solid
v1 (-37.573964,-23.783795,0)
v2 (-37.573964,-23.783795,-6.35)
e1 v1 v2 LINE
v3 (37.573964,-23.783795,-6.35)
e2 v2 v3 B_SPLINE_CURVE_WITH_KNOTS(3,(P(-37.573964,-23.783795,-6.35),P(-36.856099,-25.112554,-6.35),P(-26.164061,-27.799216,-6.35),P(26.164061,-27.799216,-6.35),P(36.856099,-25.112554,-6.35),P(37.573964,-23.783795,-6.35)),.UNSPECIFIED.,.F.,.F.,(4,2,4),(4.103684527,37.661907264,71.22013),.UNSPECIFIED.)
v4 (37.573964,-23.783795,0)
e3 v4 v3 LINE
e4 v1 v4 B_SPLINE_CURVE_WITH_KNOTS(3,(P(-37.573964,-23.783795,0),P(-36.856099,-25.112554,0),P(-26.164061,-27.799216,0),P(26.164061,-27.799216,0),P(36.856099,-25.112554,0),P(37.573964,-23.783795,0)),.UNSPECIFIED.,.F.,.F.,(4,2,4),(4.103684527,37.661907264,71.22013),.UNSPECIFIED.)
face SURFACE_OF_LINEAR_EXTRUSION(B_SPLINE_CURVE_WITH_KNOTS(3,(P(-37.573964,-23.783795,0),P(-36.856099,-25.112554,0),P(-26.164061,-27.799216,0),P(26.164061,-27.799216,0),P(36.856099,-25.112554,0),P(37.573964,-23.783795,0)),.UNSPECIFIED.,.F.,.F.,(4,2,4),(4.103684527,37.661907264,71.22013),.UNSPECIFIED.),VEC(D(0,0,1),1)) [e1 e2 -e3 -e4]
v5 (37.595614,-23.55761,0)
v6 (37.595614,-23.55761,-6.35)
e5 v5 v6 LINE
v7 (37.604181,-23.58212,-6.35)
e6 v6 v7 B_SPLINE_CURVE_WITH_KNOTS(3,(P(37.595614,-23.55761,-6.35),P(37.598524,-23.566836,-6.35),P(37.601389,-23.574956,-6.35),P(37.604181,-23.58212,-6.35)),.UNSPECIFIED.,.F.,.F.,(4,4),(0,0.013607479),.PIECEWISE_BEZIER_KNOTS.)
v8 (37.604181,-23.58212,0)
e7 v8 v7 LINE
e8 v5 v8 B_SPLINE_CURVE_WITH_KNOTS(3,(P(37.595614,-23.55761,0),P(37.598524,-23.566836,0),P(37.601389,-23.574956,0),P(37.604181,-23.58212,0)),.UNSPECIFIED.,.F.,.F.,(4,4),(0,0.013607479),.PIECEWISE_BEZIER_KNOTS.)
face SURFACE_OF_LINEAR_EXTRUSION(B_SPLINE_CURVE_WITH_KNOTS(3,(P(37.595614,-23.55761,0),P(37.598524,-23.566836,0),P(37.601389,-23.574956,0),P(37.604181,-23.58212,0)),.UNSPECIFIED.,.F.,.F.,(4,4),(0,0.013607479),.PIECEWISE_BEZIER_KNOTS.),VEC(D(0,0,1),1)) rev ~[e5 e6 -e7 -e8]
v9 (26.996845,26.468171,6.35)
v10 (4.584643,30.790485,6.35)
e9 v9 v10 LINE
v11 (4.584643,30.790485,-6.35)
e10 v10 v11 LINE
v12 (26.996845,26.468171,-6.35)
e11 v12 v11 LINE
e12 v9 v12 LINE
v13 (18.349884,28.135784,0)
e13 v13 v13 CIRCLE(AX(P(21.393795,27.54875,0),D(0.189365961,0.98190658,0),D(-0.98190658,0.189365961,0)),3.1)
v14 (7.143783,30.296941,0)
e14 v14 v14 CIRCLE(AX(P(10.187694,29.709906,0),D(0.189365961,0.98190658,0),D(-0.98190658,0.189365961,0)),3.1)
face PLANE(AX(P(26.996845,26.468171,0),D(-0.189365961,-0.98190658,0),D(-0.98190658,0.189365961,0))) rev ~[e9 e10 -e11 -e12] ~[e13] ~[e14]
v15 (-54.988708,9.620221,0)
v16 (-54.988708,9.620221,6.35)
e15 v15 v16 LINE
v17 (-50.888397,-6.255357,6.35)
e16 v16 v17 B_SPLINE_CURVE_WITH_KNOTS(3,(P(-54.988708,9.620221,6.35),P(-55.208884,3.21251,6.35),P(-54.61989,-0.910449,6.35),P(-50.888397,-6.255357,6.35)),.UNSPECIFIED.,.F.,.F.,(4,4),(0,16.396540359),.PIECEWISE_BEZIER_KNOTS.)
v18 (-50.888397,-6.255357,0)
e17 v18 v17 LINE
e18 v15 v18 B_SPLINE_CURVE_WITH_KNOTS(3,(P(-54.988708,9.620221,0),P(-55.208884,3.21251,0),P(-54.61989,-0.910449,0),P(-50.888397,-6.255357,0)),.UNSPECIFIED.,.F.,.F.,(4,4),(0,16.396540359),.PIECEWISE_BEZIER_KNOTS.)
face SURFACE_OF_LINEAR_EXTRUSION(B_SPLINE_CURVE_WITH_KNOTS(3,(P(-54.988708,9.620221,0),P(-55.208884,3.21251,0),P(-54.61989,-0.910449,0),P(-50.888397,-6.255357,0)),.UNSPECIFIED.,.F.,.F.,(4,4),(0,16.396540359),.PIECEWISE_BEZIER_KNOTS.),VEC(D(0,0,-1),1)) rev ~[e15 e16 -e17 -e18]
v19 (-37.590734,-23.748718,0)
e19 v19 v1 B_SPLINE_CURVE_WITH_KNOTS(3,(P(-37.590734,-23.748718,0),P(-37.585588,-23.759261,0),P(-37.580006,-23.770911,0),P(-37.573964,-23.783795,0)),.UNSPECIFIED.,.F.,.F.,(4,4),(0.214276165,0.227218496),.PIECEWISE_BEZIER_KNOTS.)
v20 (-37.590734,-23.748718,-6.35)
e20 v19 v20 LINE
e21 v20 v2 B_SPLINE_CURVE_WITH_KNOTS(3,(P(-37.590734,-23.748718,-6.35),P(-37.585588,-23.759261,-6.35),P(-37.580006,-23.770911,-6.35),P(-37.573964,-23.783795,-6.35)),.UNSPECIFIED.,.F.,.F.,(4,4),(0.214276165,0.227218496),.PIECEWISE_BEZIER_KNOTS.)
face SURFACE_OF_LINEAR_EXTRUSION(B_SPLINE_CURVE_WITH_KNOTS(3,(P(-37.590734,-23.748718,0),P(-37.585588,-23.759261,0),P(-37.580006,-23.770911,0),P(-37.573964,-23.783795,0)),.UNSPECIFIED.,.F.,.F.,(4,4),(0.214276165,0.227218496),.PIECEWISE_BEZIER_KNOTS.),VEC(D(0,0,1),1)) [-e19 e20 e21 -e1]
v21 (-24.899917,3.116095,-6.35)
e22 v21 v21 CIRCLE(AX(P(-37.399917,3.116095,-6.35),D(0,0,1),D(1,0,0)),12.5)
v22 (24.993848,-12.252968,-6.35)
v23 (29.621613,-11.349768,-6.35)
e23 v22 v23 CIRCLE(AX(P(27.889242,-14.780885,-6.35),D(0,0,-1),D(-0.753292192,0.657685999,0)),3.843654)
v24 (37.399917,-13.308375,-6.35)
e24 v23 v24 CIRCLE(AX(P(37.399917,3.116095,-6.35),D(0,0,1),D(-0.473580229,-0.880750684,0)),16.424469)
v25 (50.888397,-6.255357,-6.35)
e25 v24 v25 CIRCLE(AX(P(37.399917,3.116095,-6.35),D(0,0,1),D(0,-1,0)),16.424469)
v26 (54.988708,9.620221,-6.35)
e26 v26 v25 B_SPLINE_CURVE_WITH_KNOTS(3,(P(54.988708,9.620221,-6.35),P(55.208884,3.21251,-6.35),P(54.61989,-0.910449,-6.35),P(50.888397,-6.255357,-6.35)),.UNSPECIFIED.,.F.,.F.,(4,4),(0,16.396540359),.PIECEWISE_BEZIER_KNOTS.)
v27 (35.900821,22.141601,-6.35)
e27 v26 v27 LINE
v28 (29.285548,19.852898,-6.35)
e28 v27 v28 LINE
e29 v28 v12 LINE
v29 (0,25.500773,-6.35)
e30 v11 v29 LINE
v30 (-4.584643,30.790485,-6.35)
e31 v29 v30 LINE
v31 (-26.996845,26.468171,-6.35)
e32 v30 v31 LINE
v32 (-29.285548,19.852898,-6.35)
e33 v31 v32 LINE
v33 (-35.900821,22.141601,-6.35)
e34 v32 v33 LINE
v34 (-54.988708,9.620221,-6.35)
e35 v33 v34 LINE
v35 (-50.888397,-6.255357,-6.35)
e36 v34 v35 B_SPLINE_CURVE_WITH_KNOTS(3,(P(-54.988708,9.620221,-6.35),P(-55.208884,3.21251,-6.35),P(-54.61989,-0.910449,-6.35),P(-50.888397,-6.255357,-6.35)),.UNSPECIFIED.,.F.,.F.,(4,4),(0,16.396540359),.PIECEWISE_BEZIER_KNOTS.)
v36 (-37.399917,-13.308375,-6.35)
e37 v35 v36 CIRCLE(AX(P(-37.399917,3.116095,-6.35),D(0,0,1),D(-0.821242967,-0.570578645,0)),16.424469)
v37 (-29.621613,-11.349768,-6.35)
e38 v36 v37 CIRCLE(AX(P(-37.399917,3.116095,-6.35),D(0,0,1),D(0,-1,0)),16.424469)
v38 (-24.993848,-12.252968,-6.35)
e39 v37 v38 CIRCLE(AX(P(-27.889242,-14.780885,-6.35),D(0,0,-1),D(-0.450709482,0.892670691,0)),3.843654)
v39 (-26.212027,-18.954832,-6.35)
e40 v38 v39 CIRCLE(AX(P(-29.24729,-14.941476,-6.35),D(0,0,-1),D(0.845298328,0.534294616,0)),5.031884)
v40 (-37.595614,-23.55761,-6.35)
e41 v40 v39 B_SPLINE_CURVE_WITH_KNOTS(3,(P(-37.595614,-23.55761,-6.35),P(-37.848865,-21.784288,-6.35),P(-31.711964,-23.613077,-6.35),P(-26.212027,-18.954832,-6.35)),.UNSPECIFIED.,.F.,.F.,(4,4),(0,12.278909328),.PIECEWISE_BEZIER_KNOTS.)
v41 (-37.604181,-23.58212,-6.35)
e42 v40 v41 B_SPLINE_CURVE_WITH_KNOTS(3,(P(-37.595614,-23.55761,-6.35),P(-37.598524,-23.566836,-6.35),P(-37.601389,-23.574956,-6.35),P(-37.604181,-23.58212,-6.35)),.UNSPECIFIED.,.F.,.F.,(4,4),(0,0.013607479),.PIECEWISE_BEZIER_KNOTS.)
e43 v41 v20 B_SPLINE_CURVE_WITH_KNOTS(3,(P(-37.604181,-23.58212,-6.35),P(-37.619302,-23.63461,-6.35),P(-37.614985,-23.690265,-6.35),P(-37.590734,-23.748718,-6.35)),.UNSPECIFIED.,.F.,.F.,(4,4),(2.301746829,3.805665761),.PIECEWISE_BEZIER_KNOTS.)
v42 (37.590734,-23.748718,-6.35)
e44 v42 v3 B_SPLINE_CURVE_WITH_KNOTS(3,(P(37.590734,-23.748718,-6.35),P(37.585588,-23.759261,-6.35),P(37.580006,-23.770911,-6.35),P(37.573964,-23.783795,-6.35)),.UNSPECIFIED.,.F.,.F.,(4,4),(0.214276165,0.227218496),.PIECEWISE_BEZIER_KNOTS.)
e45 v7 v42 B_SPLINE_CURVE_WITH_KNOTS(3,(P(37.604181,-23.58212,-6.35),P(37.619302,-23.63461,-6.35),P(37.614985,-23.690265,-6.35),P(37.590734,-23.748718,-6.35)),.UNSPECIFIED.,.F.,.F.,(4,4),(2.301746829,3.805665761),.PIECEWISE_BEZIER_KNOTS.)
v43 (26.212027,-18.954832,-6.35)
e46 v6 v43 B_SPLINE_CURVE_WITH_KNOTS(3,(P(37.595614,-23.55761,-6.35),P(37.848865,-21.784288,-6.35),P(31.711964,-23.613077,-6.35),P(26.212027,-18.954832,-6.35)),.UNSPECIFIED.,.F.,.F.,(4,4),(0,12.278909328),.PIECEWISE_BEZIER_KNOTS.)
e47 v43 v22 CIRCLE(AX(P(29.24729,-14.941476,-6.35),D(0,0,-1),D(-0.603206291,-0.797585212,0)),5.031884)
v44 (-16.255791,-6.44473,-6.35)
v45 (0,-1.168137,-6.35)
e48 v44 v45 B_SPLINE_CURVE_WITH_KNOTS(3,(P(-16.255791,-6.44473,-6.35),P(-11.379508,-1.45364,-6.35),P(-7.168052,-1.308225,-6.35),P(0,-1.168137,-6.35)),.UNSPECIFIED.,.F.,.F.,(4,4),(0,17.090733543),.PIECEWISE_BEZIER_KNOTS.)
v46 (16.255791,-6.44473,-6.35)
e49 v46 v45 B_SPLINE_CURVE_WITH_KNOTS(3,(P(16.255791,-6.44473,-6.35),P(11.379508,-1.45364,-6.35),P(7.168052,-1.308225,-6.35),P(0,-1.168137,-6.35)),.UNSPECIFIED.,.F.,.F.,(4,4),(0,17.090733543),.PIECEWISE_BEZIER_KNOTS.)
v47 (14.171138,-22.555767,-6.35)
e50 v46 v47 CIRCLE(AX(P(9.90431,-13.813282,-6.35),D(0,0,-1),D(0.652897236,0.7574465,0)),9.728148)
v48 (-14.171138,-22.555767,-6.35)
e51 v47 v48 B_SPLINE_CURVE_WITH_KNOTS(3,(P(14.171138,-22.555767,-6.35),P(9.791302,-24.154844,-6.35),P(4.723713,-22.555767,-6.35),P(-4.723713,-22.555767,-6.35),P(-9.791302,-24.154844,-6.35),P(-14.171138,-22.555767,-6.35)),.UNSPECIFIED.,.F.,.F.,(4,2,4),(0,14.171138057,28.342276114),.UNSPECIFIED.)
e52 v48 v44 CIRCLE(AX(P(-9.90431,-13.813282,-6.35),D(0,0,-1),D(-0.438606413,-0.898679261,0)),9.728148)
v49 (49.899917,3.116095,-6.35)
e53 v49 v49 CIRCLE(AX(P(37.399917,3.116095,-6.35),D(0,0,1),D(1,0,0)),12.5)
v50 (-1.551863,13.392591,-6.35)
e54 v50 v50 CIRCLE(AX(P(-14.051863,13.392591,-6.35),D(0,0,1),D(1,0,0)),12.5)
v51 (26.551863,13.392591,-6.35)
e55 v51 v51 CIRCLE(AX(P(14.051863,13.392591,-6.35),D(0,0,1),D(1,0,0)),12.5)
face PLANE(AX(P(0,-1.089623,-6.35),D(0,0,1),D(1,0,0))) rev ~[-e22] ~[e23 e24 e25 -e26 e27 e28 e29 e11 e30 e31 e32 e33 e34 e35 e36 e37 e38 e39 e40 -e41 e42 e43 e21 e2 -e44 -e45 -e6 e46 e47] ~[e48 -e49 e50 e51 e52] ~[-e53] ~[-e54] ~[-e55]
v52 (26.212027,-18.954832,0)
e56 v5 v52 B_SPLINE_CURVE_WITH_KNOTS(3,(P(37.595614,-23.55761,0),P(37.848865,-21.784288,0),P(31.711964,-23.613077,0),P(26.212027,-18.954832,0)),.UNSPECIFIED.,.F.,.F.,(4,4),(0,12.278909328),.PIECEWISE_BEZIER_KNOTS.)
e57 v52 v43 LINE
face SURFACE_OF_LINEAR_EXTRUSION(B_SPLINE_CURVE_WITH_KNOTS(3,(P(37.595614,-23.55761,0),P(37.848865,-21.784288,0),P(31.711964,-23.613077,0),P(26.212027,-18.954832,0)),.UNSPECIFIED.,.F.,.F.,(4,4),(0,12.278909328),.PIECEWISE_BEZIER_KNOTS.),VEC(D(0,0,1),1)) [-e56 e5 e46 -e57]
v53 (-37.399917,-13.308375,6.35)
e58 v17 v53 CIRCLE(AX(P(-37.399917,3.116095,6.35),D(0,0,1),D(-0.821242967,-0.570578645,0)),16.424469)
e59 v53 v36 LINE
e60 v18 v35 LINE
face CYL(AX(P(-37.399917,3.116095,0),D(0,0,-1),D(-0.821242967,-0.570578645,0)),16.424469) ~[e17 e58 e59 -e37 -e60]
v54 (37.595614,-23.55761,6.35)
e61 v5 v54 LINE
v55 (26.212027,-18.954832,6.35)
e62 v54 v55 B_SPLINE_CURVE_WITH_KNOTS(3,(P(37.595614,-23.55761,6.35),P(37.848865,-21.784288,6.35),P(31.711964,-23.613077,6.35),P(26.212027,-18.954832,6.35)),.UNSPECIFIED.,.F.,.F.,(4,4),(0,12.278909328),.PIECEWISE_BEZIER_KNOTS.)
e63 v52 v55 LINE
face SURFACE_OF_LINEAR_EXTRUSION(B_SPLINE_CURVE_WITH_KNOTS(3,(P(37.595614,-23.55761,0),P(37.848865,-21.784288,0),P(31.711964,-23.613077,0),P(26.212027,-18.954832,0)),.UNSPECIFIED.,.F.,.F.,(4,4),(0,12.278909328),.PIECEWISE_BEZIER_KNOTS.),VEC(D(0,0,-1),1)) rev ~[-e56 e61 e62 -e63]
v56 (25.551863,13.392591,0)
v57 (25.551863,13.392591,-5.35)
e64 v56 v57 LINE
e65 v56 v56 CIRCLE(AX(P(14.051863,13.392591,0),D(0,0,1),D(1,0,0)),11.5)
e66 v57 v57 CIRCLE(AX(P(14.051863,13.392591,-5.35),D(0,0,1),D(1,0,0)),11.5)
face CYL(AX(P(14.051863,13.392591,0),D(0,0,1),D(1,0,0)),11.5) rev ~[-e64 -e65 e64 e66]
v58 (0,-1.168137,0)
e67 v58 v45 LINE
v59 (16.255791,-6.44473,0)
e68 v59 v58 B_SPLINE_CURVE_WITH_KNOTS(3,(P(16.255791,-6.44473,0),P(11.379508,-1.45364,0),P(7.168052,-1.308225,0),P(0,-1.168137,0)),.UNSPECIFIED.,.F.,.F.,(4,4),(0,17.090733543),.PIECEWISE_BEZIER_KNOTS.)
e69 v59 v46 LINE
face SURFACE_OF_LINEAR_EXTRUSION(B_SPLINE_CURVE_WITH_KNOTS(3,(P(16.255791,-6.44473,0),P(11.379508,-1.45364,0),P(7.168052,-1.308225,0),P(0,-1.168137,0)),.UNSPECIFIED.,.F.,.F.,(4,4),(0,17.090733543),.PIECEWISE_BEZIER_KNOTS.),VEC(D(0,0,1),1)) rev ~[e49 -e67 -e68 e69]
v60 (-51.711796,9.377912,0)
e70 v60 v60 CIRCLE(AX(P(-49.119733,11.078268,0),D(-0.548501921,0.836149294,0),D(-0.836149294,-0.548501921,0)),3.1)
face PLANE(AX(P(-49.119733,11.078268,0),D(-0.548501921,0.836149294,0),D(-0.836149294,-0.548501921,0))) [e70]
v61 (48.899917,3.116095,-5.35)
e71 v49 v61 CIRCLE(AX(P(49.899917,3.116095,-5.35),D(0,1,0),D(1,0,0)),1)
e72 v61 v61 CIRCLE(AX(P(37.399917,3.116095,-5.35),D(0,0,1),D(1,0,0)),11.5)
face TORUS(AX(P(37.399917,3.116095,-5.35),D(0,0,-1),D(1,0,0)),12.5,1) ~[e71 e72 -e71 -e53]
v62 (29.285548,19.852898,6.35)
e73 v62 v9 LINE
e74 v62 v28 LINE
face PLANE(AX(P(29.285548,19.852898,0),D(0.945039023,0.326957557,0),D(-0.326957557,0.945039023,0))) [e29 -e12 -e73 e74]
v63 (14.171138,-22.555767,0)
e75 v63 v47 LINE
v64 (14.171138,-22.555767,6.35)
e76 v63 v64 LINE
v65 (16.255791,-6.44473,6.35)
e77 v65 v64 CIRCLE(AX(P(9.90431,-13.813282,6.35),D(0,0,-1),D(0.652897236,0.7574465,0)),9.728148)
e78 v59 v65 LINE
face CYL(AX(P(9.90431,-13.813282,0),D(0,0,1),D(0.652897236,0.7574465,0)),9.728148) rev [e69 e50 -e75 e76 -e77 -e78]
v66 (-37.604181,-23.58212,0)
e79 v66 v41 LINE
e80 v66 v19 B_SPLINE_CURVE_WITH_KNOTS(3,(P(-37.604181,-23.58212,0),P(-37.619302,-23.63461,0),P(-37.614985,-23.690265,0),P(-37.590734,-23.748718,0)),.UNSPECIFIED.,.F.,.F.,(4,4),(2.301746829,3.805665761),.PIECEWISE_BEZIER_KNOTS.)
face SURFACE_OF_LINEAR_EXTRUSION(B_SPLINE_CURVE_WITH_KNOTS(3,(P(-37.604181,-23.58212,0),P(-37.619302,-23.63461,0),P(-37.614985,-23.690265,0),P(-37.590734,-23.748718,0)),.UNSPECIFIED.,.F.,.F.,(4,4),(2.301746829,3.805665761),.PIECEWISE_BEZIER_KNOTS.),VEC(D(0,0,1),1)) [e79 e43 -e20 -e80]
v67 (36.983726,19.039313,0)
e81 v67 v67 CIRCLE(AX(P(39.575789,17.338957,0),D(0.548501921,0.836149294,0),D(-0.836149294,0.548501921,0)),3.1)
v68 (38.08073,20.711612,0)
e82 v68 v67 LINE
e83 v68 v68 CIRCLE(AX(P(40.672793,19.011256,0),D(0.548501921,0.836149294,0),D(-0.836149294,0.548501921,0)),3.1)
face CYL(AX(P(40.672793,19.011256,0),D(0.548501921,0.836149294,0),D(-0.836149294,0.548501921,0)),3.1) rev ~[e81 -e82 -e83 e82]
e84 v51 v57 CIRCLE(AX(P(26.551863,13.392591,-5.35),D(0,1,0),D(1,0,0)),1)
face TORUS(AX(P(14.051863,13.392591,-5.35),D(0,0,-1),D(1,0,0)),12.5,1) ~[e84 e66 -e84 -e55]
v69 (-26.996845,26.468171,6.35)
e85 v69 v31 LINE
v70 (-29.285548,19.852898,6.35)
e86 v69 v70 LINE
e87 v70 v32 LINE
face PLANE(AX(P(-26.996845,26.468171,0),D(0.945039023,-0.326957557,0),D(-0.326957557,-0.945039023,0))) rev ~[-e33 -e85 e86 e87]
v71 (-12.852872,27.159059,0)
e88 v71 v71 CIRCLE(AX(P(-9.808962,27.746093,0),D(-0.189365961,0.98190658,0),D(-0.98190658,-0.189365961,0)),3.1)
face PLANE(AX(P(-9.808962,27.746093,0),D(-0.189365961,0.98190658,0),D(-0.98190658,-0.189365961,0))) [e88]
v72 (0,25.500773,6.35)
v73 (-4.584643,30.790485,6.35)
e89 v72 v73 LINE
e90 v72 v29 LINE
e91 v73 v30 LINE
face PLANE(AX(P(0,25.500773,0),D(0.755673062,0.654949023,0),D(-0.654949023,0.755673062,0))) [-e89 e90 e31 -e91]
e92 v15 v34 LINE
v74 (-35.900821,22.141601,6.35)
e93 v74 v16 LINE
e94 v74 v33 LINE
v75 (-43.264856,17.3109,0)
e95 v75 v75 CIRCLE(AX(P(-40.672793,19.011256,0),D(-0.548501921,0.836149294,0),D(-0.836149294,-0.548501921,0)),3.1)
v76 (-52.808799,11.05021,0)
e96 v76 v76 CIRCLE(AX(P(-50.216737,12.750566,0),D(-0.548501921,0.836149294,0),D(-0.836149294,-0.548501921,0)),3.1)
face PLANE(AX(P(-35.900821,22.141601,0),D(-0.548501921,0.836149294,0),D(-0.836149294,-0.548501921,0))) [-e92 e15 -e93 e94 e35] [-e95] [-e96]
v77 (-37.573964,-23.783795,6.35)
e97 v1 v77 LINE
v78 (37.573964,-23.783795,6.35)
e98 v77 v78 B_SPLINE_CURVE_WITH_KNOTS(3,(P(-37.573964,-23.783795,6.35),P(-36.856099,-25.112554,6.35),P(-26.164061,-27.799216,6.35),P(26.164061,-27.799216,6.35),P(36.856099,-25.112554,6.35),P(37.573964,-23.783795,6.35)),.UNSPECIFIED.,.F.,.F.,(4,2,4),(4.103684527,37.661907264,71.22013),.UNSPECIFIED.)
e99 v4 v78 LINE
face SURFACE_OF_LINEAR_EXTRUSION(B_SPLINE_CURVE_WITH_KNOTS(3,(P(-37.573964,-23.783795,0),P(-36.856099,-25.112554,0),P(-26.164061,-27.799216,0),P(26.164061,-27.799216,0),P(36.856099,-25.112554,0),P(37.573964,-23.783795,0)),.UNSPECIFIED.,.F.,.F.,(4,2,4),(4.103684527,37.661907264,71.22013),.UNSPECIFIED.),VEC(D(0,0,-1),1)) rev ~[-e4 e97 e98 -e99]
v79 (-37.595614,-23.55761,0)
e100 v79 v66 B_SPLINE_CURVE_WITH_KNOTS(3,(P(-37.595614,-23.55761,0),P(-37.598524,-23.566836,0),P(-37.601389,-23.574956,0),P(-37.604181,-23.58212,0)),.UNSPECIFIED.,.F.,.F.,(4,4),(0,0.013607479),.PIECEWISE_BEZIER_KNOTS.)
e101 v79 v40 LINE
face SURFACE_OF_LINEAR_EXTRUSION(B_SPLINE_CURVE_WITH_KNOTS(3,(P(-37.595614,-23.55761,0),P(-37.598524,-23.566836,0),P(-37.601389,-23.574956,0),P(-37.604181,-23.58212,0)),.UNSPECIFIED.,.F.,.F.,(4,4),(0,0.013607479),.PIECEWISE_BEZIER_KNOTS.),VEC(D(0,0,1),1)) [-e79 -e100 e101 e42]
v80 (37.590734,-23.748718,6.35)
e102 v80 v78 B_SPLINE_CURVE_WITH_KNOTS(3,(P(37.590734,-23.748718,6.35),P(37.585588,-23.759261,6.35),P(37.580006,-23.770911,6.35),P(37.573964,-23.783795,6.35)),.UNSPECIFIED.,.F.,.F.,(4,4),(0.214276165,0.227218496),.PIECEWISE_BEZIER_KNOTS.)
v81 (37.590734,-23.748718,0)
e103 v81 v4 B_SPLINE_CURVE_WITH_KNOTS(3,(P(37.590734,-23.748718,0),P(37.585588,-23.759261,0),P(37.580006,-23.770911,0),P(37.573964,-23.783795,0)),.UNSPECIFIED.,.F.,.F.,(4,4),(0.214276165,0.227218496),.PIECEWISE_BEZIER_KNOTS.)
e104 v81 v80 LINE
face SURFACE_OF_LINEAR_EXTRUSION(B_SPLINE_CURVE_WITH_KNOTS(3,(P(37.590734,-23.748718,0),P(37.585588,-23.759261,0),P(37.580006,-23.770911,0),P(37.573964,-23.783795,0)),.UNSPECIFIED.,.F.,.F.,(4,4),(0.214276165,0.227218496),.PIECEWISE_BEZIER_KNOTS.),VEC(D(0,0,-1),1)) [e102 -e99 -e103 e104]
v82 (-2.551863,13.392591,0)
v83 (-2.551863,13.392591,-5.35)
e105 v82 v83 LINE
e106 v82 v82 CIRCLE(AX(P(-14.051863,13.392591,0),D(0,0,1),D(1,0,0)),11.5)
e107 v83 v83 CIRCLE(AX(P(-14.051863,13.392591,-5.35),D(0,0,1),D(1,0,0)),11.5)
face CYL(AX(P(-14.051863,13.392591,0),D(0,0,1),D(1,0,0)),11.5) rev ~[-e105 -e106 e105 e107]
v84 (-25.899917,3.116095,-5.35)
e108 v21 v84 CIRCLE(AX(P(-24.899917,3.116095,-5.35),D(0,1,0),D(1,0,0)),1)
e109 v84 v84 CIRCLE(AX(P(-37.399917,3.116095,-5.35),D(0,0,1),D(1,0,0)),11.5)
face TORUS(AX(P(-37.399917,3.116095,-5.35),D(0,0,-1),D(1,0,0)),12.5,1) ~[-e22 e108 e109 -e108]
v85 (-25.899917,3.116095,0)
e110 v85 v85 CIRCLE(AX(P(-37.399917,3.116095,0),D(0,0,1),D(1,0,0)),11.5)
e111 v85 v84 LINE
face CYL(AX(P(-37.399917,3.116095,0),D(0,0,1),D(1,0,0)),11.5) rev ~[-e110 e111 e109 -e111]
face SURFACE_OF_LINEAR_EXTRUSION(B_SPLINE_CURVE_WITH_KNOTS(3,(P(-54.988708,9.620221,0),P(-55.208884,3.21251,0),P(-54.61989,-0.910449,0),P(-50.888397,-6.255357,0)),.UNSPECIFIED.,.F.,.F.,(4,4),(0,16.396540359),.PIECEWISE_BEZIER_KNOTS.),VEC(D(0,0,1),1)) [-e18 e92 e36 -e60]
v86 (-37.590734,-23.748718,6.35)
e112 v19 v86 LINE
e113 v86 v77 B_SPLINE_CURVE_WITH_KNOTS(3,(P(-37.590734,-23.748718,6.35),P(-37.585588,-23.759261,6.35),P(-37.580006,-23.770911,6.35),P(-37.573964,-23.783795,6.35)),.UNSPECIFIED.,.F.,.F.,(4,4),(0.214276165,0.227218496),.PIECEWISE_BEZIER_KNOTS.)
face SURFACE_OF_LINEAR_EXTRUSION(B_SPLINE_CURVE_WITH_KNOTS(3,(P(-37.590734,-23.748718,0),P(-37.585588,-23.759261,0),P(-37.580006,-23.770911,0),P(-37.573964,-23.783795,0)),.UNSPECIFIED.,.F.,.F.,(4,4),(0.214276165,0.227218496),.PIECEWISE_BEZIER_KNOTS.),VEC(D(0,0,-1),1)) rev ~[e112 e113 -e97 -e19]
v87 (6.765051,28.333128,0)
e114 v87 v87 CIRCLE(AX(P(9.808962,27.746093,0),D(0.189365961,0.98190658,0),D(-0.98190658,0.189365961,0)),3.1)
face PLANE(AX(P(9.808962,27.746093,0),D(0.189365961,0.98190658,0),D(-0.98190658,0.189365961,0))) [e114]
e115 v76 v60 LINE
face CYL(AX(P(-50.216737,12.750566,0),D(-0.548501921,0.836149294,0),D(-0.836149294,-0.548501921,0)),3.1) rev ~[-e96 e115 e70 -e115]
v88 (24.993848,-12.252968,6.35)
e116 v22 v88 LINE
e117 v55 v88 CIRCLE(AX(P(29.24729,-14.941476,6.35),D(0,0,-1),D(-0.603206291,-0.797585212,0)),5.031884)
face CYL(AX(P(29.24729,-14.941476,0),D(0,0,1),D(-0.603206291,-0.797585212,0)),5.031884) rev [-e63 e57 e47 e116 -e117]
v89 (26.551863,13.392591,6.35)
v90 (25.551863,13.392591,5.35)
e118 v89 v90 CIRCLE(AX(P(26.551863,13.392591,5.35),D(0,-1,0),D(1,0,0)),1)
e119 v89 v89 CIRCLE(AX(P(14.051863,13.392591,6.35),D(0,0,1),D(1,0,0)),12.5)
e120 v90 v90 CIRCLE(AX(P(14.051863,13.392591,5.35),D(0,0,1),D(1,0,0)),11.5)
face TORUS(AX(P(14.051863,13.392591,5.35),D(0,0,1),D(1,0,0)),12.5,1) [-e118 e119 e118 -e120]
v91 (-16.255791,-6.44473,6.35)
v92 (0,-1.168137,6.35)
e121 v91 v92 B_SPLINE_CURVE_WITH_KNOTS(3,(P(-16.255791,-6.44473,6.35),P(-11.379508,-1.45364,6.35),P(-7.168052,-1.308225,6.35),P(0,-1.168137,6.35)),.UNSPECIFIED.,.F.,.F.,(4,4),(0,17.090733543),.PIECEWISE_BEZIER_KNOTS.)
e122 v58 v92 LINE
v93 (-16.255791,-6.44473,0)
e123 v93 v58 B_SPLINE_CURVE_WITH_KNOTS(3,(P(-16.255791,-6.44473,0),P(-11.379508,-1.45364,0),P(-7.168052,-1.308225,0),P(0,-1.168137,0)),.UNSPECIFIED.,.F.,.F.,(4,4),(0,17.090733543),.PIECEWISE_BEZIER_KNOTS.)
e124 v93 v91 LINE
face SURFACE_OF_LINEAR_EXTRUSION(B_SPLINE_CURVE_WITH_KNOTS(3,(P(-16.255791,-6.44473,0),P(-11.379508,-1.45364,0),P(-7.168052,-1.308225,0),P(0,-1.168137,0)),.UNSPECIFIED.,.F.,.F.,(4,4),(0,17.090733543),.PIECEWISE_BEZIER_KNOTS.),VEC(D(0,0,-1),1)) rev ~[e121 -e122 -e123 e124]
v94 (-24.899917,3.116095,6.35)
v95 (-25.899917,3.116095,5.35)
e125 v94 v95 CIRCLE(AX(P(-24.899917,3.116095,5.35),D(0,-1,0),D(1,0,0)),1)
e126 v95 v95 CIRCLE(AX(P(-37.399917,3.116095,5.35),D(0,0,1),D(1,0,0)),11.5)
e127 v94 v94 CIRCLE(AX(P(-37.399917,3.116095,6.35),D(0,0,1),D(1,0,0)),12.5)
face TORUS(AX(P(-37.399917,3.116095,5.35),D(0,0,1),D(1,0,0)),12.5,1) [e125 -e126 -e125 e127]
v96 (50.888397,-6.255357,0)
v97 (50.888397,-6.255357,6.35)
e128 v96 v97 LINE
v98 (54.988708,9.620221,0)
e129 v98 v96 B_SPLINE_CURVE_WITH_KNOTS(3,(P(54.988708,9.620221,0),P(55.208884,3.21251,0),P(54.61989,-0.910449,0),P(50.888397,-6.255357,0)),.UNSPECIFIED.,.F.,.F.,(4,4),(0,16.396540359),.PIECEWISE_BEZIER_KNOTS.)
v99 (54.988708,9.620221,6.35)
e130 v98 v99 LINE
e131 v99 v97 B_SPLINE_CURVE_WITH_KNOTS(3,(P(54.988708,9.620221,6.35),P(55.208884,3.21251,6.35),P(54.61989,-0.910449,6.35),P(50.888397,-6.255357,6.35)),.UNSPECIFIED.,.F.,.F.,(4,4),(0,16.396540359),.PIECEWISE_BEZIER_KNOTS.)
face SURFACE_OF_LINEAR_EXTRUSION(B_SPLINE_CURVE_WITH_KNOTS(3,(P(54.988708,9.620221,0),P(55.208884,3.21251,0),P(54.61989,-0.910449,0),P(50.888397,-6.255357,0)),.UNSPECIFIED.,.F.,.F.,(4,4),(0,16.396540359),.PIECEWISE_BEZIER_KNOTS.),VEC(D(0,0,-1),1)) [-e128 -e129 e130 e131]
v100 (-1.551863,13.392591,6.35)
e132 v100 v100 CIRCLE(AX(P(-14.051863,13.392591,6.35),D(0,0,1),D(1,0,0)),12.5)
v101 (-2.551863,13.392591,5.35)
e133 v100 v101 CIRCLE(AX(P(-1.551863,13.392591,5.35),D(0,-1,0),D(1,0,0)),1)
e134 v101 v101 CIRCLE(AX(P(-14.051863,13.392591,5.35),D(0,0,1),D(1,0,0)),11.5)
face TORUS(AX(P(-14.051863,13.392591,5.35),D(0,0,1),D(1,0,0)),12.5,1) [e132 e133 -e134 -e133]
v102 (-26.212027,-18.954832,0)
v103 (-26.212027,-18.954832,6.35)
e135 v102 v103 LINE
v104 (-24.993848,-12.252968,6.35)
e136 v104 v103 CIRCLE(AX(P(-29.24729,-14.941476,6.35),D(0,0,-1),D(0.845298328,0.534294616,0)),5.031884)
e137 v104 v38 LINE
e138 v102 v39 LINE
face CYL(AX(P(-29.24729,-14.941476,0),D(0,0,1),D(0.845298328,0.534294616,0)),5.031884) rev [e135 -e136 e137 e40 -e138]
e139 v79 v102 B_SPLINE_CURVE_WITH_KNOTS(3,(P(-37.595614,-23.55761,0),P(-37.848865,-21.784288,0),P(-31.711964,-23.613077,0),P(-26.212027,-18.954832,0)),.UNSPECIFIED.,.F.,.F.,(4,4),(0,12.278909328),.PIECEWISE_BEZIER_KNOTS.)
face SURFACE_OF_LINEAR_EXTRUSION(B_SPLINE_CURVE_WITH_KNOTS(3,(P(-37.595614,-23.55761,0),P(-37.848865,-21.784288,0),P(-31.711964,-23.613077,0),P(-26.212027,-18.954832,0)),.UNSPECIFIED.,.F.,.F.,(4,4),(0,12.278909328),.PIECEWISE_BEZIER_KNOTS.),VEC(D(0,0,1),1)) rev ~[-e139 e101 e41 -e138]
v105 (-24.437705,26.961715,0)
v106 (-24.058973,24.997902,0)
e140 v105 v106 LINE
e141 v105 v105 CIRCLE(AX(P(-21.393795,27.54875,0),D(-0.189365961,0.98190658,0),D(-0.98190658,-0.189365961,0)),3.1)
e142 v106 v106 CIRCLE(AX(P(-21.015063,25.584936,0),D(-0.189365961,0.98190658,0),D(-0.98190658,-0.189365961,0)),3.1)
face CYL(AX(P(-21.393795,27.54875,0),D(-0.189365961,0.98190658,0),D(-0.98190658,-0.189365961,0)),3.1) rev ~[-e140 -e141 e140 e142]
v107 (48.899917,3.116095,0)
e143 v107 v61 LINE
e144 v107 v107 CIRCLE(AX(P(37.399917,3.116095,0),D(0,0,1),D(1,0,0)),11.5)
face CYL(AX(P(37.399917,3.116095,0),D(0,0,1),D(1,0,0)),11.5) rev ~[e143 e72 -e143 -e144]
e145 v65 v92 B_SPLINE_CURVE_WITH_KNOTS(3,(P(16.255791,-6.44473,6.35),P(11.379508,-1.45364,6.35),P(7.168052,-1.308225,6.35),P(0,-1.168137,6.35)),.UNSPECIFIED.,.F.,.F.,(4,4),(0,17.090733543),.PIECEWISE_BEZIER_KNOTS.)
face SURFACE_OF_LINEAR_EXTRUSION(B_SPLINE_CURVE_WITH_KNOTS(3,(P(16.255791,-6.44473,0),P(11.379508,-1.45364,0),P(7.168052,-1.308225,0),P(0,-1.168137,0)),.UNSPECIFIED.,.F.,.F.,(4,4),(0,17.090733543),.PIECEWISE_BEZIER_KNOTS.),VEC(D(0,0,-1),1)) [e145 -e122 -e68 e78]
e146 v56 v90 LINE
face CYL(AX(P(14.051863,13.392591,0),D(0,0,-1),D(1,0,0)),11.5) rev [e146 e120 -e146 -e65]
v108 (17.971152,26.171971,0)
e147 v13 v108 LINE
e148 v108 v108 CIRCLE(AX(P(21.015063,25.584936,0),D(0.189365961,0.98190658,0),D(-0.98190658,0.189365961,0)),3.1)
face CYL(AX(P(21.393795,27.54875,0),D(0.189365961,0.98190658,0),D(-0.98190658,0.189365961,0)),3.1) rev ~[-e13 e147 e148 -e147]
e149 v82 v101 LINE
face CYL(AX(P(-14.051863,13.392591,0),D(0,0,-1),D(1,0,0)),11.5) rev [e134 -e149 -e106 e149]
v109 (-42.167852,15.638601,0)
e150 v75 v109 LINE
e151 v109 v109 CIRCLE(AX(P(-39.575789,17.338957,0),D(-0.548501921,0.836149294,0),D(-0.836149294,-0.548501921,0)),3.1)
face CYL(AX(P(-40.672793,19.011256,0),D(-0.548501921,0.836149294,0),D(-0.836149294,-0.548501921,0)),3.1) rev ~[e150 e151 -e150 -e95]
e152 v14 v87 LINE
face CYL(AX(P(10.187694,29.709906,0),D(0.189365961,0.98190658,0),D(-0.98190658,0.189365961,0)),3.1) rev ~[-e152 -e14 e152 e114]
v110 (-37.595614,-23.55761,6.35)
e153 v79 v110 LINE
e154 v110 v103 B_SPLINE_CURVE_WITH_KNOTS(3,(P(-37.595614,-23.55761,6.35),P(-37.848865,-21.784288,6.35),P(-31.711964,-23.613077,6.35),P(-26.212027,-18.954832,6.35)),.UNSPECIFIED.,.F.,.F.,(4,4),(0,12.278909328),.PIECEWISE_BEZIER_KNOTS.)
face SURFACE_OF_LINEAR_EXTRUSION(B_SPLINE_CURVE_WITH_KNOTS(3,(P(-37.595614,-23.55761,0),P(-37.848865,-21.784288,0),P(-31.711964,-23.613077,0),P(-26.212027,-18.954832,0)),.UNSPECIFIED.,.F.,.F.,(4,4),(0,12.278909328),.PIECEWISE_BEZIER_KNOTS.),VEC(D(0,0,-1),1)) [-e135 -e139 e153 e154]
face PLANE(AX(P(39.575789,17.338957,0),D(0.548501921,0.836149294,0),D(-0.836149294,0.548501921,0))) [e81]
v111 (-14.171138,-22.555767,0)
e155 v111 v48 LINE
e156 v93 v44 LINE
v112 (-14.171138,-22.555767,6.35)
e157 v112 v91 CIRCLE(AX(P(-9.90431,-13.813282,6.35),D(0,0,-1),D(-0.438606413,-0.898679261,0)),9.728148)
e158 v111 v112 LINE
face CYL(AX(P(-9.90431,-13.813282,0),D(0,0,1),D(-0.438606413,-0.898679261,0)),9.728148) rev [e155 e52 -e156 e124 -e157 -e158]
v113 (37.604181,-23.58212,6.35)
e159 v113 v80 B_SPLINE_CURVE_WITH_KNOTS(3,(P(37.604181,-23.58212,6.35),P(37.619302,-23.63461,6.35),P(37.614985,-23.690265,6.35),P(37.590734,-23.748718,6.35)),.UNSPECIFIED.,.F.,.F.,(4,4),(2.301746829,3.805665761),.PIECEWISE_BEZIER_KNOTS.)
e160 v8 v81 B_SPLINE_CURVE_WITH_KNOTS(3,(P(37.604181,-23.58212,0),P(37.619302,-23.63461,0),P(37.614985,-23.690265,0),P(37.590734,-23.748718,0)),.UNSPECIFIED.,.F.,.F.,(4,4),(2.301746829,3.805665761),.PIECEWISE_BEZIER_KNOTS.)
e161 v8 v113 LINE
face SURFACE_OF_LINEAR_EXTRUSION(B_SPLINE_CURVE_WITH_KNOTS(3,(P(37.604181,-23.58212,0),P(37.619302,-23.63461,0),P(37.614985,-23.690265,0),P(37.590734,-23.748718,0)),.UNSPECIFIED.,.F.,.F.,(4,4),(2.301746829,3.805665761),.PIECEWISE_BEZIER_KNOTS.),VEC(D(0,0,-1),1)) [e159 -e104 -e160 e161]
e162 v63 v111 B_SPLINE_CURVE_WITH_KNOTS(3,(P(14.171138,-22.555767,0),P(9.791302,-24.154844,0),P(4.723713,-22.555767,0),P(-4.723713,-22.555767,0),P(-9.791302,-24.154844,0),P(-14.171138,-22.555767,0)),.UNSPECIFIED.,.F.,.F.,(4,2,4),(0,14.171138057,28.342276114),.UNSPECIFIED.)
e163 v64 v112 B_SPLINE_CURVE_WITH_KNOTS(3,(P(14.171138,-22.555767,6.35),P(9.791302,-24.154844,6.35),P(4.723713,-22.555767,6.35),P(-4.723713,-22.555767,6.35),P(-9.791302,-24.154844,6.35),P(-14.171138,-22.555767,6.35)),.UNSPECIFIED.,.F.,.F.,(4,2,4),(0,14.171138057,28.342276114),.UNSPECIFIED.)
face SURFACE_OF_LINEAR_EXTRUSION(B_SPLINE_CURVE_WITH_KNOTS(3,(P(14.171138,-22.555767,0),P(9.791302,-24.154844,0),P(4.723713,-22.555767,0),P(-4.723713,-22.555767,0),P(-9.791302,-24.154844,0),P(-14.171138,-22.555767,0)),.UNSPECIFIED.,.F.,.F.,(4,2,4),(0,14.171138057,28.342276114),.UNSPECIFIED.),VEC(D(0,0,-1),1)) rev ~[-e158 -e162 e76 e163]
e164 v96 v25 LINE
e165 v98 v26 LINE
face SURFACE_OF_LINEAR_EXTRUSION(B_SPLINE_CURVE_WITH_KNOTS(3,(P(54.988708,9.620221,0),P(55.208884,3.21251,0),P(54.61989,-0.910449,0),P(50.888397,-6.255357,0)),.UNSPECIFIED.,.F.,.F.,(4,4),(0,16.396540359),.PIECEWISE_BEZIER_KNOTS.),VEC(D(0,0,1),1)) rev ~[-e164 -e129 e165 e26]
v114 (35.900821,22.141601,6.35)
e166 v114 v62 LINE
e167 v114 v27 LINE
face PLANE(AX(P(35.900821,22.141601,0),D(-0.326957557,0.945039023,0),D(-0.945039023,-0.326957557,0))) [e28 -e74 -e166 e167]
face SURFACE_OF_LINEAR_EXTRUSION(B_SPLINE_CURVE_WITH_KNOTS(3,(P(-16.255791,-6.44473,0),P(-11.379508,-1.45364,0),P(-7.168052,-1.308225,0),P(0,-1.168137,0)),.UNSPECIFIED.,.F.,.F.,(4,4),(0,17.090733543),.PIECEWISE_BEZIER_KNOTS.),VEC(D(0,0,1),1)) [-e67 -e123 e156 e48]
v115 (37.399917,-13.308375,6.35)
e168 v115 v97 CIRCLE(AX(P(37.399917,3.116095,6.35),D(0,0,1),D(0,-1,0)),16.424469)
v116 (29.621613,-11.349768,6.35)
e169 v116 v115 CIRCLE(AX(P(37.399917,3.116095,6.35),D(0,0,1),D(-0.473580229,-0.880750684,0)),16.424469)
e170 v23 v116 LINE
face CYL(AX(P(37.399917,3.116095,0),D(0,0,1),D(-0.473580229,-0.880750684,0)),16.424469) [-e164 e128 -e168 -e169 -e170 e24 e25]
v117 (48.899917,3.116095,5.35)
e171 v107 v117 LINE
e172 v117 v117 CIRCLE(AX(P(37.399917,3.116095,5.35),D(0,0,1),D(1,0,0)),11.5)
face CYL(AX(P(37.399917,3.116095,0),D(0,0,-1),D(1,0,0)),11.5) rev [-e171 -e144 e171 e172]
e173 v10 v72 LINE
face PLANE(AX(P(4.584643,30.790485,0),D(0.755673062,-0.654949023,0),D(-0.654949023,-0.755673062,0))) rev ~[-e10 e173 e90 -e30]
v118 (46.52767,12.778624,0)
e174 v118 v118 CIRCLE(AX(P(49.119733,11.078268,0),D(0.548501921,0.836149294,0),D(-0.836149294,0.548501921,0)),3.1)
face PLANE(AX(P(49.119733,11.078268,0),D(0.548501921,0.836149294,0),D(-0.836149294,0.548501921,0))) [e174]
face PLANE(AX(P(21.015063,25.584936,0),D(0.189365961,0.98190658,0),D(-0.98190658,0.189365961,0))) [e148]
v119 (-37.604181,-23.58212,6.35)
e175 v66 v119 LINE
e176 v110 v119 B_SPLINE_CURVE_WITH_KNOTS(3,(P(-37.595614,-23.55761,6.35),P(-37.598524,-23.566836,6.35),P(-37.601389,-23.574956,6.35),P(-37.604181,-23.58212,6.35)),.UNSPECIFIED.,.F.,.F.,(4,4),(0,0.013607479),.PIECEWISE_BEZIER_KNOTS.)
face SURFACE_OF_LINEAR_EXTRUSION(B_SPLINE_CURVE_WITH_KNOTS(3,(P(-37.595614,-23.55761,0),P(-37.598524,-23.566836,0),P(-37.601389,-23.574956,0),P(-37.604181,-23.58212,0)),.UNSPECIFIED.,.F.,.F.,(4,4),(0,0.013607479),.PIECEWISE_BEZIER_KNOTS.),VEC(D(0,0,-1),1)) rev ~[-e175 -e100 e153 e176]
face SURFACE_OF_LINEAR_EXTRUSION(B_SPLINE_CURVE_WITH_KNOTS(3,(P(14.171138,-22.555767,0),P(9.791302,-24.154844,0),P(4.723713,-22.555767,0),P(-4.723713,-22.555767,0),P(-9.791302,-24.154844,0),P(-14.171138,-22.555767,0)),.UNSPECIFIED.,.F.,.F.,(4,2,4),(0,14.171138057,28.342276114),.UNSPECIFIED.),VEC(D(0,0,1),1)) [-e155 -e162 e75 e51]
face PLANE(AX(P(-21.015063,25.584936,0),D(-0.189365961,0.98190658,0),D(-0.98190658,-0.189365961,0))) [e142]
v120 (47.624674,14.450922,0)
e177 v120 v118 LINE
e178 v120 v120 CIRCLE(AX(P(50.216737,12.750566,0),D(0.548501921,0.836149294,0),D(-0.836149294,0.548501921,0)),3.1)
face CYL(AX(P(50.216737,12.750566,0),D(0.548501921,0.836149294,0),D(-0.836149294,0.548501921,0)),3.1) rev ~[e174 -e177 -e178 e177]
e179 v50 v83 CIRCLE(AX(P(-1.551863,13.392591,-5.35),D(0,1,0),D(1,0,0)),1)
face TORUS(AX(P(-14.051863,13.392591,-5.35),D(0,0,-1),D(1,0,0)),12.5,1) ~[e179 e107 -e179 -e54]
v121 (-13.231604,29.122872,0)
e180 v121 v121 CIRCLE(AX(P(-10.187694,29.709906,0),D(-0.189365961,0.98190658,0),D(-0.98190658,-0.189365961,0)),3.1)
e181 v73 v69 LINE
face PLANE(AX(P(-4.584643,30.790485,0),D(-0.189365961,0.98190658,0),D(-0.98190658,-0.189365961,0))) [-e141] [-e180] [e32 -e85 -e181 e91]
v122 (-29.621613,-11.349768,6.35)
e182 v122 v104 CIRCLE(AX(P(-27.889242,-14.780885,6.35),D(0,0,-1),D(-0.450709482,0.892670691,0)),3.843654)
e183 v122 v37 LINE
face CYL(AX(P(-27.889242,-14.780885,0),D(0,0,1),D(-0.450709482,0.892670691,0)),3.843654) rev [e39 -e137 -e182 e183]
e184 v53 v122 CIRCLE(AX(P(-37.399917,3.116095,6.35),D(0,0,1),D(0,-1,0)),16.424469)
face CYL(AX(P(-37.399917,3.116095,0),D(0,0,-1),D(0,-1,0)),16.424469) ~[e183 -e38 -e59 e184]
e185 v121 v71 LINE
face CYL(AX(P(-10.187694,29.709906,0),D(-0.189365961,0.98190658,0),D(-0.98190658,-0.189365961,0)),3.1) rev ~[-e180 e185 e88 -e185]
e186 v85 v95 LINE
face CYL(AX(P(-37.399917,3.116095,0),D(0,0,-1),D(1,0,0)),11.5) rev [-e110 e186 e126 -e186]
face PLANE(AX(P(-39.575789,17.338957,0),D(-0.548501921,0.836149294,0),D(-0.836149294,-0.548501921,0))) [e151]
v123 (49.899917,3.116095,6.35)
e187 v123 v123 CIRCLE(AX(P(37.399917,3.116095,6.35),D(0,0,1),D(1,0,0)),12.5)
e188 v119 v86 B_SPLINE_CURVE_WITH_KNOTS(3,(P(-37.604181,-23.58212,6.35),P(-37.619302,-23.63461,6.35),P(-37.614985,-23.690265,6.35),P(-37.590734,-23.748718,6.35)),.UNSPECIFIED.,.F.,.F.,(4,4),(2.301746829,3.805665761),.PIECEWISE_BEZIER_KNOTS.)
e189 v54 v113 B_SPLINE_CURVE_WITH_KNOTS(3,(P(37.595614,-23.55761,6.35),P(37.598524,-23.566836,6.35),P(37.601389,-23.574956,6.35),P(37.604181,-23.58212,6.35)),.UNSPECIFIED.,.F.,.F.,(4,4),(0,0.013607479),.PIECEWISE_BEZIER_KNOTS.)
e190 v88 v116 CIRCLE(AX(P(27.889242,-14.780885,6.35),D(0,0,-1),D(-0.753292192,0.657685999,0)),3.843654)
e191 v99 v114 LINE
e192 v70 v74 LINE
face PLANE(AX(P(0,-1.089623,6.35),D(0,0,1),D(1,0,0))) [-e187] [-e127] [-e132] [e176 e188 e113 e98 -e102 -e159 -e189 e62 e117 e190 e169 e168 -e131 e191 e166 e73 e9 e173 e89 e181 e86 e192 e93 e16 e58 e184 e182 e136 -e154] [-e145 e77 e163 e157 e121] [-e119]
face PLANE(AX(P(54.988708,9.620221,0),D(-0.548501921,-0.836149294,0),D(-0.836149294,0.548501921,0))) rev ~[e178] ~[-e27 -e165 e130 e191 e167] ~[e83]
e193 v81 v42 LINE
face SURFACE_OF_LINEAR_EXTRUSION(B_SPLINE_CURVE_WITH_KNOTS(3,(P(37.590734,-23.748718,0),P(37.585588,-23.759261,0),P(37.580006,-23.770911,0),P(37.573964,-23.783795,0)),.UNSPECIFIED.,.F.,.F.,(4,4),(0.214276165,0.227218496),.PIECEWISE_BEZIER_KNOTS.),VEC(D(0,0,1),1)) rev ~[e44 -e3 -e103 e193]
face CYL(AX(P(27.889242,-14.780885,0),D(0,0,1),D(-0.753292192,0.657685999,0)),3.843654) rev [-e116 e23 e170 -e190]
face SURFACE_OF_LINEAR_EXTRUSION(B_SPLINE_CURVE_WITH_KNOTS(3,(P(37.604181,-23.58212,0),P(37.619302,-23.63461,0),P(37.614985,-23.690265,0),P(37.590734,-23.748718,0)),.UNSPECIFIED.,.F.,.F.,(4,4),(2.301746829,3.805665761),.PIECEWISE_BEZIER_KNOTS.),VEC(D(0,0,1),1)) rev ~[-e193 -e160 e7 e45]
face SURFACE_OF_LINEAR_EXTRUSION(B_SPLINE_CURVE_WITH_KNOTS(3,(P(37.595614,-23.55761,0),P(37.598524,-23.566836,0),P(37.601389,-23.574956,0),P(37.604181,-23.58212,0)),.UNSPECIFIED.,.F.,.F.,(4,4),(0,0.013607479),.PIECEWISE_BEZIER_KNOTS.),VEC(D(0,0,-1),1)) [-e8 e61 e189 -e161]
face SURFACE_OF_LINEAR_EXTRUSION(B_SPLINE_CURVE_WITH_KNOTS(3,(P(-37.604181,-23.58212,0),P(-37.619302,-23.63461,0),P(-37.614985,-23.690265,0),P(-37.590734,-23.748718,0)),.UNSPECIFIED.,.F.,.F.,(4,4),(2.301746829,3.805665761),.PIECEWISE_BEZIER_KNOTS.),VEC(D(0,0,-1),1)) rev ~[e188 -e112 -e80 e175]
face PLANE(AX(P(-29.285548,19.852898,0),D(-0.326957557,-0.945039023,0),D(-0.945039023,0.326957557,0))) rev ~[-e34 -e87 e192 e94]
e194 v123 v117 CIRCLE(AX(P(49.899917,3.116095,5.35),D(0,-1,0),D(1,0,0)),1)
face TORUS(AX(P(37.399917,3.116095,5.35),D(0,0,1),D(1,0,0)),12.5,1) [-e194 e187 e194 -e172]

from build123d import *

# Parameters (mm, degrees)
F0_R     = 11.5
F1_DEPTH = 6.35
F2_R     = 3.1
F3_DEPTH = 2
F4_R     = 3.1
F5_DEPTH = 2
F6_R     = 3.1
F7_DEPTH = 2
F8_R     = 3.1
F9_DEPTH = 2
F10_R    = 1


with BuildPart() as f1:
    # F0 (on Top) → F1 (new body, symmetric)
    with BuildSketch(Plane.XY):
        with BuildLine():
            ThreePointArc((-24.9938476794, -12.252967933), (-24.2965271786, -15.8413624811), (-26.2120266154, -18.9548321248))
            add(Edge.make_bspline(
                [(-37.5956135349, -23.5576098881), (-37.8488649141, -21.7842883746), (-31.7119637516, -23.6130767682), (-26.2120266154, -18.9548321248)],
                knots=[0, 0, 0, 0, 12.2789093282, 12.2789093282, 12.2789093282, 12.2789093282], degree=3))
            add(Edge.make_bspline(
                [(-37.5956135349, -23.5576098881), (-37.5985242843, -23.5668355402), (-37.6013892033, -23.5749561954), (-37.604180558, -23.5821196974)],
                knots=[0, 0, 0, 0, 0.013607479, 0.013607479, 0.013607479, 0.013607479], degree=3))
            add(Edge.make_bspline(
                [(-37.604180558, -23.5821196974), (-37.6193024158, -23.6346104291), (-37.6149850147, -23.6902645556), (-37.5907335097, -23.7487180375)],
                knots=[2.3017468291, 2.3017468291, 2.3017468291, 2.3017468291, 3.8056657609, 3.8056657609, 3.8056657609, 3.8056657609], degree=3))
            add(Edge.make_bspline(
                [(-37.5907335097, -23.7487180375), (-37.5855882281, -23.7592614047), (-37.5800064136, -23.7709112106), (-37.5739642035, -23.7837946611)],
                knots=[0.2142761652, 0.2142761652, 0.2142761652, 0.2142761652, 0.2272184963, 0.2272184963, 0.2272184963, 0.2272184963], degree=3))
            add(Edge.make_bspline(
                [(-37.5739642035, -23.7837946611), (-36.8560990883, -25.1125540323), (-26.1640608794, -27.799216335), (0, -27.799216335)],
                knots=[4.1036845268, 4.1036845268, 4.1036845268, 4.1036845268, 37.6619072636, 37.6619072636, 37.6619072636, 37.6619072636], degree=3))
            add(Edge.make_bspline(
                [(37.5739642035, -23.7837946611), (36.8560990883, -25.1125540323), (26.1640608794, -27.799216335), (0, -27.799216335)],
                knots=[4.1036845268, 4.1036845268, 4.1036845268, 4.1036845268, 37.6619072636, 37.6619072636, 37.6619072636, 37.6619072636], degree=3))
            add(Edge.make_bspline(
                [(37.5907335097, -23.7487180375), (37.5855882281, -23.7592614047), (37.5800064136, -23.7709112106), (37.5739642035, -23.7837946611)],
                knots=[0.2142761652, 0.2142761652, 0.2142761652, 0.2142761652, 0.2272184963, 0.2272184963, 0.2272184963, 0.2272184963], degree=3))
            add(Edge.make_bspline(
                [(37.604180558, -23.5821196974), (37.6193024158, -23.6346104291), (37.6149850147, -23.6902645556), (37.5907335097, -23.7487180375)],
                knots=[2.3017468291, 2.3017468291, 2.3017468291, 2.3017468291, 3.8056657609, 3.8056657609, 3.8056657609, 3.8056657609], degree=3))
            add(Edge.make_bspline(
                [(37.5956135349, -23.5576098881), (37.5985242843, -23.5668355402), (37.6013892033, -23.5749561954), (37.604180558, -23.5821196974)],
                knots=[0, 0, 0, 0, 0.013607479, 0.013607479, 0.013607479, 0.013607479], degree=3))
            add(Edge.make_bspline(
                [(37.5956135349, -23.5576098881), (37.8488649141, -21.7842883746), (31.7119637516, -23.6130767682), (26.2120266154, -18.9548321248)],
                knots=[0, 0, 0, 0, 12.2789093282, 12.2789093282, 12.2789093282, 12.2789093282], degree=3))
            ThreePointArc((26.2120266154, -18.9548321248), (24.2965271786, -15.8413624811), (24.9938476794, -12.252967933))
            ThreePointArc((24.9938476794, -12.252967933), (27.1529689875, -11.0084090119), (29.6216134969, -11.3497680865))
            ThreePointArc((29.6216134969, -11.3497680865), (33.3893640975, -12.811198256), (37.3999174489, -13.3083748282))
            ThreePointArc((37.3999174489, -13.3083748282), (45.0105046777, -11.4387038419), (50.8883973713, -6.2553569457))
            add(Edge.make_bspline(
                [(54.9887083471, 9.6202213317), (55.2088841796, 3.2125096768), (54.6198897064, -0.9104488418), (50.8883973713, -6.2553569457)],
                knots=[0, 0, 0, 0, 16.3965403589, 16.3965403589, 16.3965403589, 16.3965403589], degree=3))
            Line((54.9887083471, 9.6202213317), (35.9008214191, 22.1416008538))
            Line((35.9008214191, 22.1416008538), (29.2855482548, 19.8528979542))
            Line((29.2855482548, 19.8528979542), (26.9968453553, 26.4681711185))
            Line((26.9968453553, 26.4681711185), (4.5846431634, 30.7904847667))
            Line((4.5846431634, 30.7904847667), (0, 25.5007733319))
            Line((0, 25.5007733319), (-4.5846431634, 30.7904847667))
            Line((-4.5846431634, 30.7904847667), (-26.9968453553, 26.4681711185))
            Line((-26.9968453553, 26.4681711185), (-29.2855482548, 19.8528979542))
            Line((-29.2855482548, 19.8528979542), (-35.9008214191, 22.1416008538))
            Line((-35.9008214191, 22.1416008538), (-54.9887083471, 9.6202213317))
            add(Edge.make_bspline(
                [(-54.9887083471, 9.6202213317), (-55.2088841796, 3.2125096768), (-54.6198897064, -0.9104488418), (-50.8883973713, -6.2553569457)],
                knots=[0, 0, 0, 0, 16.3965403589, 16.3965403589, 16.3965403589, 16.3965403589], degree=3))
            ThreePointArc((-50.8883973713, -6.2553569457), (-45.0105046777, -11.4387038419), (-37.3999174489, -13.3083748282))
            ThreePointArc((-37.3999174489, -13.3083748282), (-33.3893640975, -12.811198256), (-29.6216134969, -11.3497680865))
            ThreePointArc((-29.6216134969, -11.3497680865), (-27.1529689875, -11.0084090119), (-24.9938476794, -12.252967933))
        make_face()
        with BuildLine():
            add(Edge.make_bspline(
                [(-14.1711380572, -22.555766633), (-9.7913024947, -24.1548437625), (-4.7237126857, -22.555766633), (0, -22.555766633)],
                knots=[0, 0, 0, 0, 14.1711380572, 14.1711380572, 14.1711380572, 14.1711380572], degree=3))
            ThreePointArc((-14.1711380572, -22.555766633), (-19.5520296192, -15.0616277651), (-16.2557908636, -6.4447303281))
            add(Edge.make_bspline(
                [(-16.2557908636, -6.4447303281), (-11.3795083016, -1.4536400558), (-7.1680517867, -1.3082248624), (0, -1.168137067)],
                knots=[0, 0, 0, 0, 17.0907335432, 17.0907335432, 17.0907335432, 17.0907335432], degree=3))
            add(Edge.make_bspline(
                [(16.2557908636, -6.4447303281), (11.3795083016, -1.4536400558), (7.1680517867, -1.3082248624), (0, -1.168137067)],
                knots=[0, 0, 0, 0, 17.0907335432, 17.0907335432, 17.0907335432, 17.0907335432], degree=3))
            ThreePointArc((16.2557908636, -6.4447303281), (19.5520296192, -15.0616277651), (14.1711380572, -22.555766633))
            add(Edge.make_bspline(
                [(14.1711380572, -22.555766633), (9.7913024947, -24.1548437625), (4.7237126857, -22.555766633), (0, -22.555766633)],
                knots=[0, 0, 0, 0, 14.1711380572, 14.1711380572, 14.1711380572, 14.1711380572], degree=3))
        make_face(mode=Mode.SUBTRACT)
        with Locations((-37.3999174489, 3.1160945073)):
            Circle(F0_R, mode=Mode.SUBTRACT)
        with Locations((-14.0518627735, 13.3925907013)):
            Circle(F0_R, mode=Mode.SUBTRACT)
        with Locations((14.0518627735, 13.3925907013)):
            Circle(F0_R, mode=Mode.SUBTRACT)
        with Locations((37.3999174489, 3.1160945073)):
            Circle(F0_R, mode=Mode.SUBTRACT)
    extrude(amount=F1_DEPTH, both=True)

    # F2 (on face) → F3 (cut)
    with BuildSketch(Plane(origin=(20.9557097678, 31.9453793281, 0), x_dir=(-0.8361492943, 0.5485019212, 0), z_dir=(0.5485019212, 0.8361492943, 0))):
        with Locations((-34.9949788214, 0)):
            Circle(F2_R)
        with Locations((-23.5808168667, 0)):
            Circle(F2_R)
    extrude(amount=-F3_DEPTH, mode=Mode.SUBTRACT)

    # F4 (on face) → F5 (cut)
    with BuildSketch(Plane(origin=(5.8895758556, 30.5388214836, 0), x_dir=(-0.9819065804, 0.1893659613, 0), z_dir=(0.1893659613, 0.9819065804, 0))):
        with Locations((-15.789912463, 0)):
            Circle(F4_R)
        with Locations((-4.3773185163, 0)):
            Circle(F4_R)
    extrude(amount=-F5_DEPTH, mode=Mode.SUBTRACT)

    # F6 (on face) → F7 (cut)
    with BuildSketch(Plane(origin=(-5.8895758556, 30.5388214836, 0), x_dir=(-0.9819065804, -0.1893659613, 0), z_dir=(-0.1893659613, 0.9819065804, 0))):
        with Locations((4.3773185163, 0)):
            Circle(F6_R)
        with Locations((15.789912463, 0)):
            Circle(F6_R)
    extrude(amount=-F7_DEPTH, mode=Mode.SUBTRACT)

    # F8 (on face) → F9 (cut)
    with BuildSketch(Plane(origin=(-20.9557097678, 31.9453793281, 0), x_dir=(-0.8361492943, -0.5485019212, 0), z_dir=(-0.5485019212, 0.8361492943, 0))):
        with Locations((23.5808168667, 0)):
            Circle(F8_R)
        with Locations((34.9949788214, 0)):
            Circle(F8_R)
    extrude(amount=-F9_DEPTH, mode=Mode.SUBTRACT)

    # F10
    f10_edges = [f1.edges().sort_by_distance(p)[0] for p in [
        (2.551863, 13.392591, 6.35),
        (25.899917, 3.116095, 6.35),
        (-25.551863, 13.392591, 6.35),
        (-48.899917, 3.116095, 6.35),
        (25.899917, 3.116095, -6.35),
        (2.551863, 13.392591, -6.35),
        (-25.551863, 13.392591, -6.35),
        (-48.899917, 3.116095, -6.35),
    ]]
    fillet(f10_edges, radius=F10_R)


solid = f1.part
